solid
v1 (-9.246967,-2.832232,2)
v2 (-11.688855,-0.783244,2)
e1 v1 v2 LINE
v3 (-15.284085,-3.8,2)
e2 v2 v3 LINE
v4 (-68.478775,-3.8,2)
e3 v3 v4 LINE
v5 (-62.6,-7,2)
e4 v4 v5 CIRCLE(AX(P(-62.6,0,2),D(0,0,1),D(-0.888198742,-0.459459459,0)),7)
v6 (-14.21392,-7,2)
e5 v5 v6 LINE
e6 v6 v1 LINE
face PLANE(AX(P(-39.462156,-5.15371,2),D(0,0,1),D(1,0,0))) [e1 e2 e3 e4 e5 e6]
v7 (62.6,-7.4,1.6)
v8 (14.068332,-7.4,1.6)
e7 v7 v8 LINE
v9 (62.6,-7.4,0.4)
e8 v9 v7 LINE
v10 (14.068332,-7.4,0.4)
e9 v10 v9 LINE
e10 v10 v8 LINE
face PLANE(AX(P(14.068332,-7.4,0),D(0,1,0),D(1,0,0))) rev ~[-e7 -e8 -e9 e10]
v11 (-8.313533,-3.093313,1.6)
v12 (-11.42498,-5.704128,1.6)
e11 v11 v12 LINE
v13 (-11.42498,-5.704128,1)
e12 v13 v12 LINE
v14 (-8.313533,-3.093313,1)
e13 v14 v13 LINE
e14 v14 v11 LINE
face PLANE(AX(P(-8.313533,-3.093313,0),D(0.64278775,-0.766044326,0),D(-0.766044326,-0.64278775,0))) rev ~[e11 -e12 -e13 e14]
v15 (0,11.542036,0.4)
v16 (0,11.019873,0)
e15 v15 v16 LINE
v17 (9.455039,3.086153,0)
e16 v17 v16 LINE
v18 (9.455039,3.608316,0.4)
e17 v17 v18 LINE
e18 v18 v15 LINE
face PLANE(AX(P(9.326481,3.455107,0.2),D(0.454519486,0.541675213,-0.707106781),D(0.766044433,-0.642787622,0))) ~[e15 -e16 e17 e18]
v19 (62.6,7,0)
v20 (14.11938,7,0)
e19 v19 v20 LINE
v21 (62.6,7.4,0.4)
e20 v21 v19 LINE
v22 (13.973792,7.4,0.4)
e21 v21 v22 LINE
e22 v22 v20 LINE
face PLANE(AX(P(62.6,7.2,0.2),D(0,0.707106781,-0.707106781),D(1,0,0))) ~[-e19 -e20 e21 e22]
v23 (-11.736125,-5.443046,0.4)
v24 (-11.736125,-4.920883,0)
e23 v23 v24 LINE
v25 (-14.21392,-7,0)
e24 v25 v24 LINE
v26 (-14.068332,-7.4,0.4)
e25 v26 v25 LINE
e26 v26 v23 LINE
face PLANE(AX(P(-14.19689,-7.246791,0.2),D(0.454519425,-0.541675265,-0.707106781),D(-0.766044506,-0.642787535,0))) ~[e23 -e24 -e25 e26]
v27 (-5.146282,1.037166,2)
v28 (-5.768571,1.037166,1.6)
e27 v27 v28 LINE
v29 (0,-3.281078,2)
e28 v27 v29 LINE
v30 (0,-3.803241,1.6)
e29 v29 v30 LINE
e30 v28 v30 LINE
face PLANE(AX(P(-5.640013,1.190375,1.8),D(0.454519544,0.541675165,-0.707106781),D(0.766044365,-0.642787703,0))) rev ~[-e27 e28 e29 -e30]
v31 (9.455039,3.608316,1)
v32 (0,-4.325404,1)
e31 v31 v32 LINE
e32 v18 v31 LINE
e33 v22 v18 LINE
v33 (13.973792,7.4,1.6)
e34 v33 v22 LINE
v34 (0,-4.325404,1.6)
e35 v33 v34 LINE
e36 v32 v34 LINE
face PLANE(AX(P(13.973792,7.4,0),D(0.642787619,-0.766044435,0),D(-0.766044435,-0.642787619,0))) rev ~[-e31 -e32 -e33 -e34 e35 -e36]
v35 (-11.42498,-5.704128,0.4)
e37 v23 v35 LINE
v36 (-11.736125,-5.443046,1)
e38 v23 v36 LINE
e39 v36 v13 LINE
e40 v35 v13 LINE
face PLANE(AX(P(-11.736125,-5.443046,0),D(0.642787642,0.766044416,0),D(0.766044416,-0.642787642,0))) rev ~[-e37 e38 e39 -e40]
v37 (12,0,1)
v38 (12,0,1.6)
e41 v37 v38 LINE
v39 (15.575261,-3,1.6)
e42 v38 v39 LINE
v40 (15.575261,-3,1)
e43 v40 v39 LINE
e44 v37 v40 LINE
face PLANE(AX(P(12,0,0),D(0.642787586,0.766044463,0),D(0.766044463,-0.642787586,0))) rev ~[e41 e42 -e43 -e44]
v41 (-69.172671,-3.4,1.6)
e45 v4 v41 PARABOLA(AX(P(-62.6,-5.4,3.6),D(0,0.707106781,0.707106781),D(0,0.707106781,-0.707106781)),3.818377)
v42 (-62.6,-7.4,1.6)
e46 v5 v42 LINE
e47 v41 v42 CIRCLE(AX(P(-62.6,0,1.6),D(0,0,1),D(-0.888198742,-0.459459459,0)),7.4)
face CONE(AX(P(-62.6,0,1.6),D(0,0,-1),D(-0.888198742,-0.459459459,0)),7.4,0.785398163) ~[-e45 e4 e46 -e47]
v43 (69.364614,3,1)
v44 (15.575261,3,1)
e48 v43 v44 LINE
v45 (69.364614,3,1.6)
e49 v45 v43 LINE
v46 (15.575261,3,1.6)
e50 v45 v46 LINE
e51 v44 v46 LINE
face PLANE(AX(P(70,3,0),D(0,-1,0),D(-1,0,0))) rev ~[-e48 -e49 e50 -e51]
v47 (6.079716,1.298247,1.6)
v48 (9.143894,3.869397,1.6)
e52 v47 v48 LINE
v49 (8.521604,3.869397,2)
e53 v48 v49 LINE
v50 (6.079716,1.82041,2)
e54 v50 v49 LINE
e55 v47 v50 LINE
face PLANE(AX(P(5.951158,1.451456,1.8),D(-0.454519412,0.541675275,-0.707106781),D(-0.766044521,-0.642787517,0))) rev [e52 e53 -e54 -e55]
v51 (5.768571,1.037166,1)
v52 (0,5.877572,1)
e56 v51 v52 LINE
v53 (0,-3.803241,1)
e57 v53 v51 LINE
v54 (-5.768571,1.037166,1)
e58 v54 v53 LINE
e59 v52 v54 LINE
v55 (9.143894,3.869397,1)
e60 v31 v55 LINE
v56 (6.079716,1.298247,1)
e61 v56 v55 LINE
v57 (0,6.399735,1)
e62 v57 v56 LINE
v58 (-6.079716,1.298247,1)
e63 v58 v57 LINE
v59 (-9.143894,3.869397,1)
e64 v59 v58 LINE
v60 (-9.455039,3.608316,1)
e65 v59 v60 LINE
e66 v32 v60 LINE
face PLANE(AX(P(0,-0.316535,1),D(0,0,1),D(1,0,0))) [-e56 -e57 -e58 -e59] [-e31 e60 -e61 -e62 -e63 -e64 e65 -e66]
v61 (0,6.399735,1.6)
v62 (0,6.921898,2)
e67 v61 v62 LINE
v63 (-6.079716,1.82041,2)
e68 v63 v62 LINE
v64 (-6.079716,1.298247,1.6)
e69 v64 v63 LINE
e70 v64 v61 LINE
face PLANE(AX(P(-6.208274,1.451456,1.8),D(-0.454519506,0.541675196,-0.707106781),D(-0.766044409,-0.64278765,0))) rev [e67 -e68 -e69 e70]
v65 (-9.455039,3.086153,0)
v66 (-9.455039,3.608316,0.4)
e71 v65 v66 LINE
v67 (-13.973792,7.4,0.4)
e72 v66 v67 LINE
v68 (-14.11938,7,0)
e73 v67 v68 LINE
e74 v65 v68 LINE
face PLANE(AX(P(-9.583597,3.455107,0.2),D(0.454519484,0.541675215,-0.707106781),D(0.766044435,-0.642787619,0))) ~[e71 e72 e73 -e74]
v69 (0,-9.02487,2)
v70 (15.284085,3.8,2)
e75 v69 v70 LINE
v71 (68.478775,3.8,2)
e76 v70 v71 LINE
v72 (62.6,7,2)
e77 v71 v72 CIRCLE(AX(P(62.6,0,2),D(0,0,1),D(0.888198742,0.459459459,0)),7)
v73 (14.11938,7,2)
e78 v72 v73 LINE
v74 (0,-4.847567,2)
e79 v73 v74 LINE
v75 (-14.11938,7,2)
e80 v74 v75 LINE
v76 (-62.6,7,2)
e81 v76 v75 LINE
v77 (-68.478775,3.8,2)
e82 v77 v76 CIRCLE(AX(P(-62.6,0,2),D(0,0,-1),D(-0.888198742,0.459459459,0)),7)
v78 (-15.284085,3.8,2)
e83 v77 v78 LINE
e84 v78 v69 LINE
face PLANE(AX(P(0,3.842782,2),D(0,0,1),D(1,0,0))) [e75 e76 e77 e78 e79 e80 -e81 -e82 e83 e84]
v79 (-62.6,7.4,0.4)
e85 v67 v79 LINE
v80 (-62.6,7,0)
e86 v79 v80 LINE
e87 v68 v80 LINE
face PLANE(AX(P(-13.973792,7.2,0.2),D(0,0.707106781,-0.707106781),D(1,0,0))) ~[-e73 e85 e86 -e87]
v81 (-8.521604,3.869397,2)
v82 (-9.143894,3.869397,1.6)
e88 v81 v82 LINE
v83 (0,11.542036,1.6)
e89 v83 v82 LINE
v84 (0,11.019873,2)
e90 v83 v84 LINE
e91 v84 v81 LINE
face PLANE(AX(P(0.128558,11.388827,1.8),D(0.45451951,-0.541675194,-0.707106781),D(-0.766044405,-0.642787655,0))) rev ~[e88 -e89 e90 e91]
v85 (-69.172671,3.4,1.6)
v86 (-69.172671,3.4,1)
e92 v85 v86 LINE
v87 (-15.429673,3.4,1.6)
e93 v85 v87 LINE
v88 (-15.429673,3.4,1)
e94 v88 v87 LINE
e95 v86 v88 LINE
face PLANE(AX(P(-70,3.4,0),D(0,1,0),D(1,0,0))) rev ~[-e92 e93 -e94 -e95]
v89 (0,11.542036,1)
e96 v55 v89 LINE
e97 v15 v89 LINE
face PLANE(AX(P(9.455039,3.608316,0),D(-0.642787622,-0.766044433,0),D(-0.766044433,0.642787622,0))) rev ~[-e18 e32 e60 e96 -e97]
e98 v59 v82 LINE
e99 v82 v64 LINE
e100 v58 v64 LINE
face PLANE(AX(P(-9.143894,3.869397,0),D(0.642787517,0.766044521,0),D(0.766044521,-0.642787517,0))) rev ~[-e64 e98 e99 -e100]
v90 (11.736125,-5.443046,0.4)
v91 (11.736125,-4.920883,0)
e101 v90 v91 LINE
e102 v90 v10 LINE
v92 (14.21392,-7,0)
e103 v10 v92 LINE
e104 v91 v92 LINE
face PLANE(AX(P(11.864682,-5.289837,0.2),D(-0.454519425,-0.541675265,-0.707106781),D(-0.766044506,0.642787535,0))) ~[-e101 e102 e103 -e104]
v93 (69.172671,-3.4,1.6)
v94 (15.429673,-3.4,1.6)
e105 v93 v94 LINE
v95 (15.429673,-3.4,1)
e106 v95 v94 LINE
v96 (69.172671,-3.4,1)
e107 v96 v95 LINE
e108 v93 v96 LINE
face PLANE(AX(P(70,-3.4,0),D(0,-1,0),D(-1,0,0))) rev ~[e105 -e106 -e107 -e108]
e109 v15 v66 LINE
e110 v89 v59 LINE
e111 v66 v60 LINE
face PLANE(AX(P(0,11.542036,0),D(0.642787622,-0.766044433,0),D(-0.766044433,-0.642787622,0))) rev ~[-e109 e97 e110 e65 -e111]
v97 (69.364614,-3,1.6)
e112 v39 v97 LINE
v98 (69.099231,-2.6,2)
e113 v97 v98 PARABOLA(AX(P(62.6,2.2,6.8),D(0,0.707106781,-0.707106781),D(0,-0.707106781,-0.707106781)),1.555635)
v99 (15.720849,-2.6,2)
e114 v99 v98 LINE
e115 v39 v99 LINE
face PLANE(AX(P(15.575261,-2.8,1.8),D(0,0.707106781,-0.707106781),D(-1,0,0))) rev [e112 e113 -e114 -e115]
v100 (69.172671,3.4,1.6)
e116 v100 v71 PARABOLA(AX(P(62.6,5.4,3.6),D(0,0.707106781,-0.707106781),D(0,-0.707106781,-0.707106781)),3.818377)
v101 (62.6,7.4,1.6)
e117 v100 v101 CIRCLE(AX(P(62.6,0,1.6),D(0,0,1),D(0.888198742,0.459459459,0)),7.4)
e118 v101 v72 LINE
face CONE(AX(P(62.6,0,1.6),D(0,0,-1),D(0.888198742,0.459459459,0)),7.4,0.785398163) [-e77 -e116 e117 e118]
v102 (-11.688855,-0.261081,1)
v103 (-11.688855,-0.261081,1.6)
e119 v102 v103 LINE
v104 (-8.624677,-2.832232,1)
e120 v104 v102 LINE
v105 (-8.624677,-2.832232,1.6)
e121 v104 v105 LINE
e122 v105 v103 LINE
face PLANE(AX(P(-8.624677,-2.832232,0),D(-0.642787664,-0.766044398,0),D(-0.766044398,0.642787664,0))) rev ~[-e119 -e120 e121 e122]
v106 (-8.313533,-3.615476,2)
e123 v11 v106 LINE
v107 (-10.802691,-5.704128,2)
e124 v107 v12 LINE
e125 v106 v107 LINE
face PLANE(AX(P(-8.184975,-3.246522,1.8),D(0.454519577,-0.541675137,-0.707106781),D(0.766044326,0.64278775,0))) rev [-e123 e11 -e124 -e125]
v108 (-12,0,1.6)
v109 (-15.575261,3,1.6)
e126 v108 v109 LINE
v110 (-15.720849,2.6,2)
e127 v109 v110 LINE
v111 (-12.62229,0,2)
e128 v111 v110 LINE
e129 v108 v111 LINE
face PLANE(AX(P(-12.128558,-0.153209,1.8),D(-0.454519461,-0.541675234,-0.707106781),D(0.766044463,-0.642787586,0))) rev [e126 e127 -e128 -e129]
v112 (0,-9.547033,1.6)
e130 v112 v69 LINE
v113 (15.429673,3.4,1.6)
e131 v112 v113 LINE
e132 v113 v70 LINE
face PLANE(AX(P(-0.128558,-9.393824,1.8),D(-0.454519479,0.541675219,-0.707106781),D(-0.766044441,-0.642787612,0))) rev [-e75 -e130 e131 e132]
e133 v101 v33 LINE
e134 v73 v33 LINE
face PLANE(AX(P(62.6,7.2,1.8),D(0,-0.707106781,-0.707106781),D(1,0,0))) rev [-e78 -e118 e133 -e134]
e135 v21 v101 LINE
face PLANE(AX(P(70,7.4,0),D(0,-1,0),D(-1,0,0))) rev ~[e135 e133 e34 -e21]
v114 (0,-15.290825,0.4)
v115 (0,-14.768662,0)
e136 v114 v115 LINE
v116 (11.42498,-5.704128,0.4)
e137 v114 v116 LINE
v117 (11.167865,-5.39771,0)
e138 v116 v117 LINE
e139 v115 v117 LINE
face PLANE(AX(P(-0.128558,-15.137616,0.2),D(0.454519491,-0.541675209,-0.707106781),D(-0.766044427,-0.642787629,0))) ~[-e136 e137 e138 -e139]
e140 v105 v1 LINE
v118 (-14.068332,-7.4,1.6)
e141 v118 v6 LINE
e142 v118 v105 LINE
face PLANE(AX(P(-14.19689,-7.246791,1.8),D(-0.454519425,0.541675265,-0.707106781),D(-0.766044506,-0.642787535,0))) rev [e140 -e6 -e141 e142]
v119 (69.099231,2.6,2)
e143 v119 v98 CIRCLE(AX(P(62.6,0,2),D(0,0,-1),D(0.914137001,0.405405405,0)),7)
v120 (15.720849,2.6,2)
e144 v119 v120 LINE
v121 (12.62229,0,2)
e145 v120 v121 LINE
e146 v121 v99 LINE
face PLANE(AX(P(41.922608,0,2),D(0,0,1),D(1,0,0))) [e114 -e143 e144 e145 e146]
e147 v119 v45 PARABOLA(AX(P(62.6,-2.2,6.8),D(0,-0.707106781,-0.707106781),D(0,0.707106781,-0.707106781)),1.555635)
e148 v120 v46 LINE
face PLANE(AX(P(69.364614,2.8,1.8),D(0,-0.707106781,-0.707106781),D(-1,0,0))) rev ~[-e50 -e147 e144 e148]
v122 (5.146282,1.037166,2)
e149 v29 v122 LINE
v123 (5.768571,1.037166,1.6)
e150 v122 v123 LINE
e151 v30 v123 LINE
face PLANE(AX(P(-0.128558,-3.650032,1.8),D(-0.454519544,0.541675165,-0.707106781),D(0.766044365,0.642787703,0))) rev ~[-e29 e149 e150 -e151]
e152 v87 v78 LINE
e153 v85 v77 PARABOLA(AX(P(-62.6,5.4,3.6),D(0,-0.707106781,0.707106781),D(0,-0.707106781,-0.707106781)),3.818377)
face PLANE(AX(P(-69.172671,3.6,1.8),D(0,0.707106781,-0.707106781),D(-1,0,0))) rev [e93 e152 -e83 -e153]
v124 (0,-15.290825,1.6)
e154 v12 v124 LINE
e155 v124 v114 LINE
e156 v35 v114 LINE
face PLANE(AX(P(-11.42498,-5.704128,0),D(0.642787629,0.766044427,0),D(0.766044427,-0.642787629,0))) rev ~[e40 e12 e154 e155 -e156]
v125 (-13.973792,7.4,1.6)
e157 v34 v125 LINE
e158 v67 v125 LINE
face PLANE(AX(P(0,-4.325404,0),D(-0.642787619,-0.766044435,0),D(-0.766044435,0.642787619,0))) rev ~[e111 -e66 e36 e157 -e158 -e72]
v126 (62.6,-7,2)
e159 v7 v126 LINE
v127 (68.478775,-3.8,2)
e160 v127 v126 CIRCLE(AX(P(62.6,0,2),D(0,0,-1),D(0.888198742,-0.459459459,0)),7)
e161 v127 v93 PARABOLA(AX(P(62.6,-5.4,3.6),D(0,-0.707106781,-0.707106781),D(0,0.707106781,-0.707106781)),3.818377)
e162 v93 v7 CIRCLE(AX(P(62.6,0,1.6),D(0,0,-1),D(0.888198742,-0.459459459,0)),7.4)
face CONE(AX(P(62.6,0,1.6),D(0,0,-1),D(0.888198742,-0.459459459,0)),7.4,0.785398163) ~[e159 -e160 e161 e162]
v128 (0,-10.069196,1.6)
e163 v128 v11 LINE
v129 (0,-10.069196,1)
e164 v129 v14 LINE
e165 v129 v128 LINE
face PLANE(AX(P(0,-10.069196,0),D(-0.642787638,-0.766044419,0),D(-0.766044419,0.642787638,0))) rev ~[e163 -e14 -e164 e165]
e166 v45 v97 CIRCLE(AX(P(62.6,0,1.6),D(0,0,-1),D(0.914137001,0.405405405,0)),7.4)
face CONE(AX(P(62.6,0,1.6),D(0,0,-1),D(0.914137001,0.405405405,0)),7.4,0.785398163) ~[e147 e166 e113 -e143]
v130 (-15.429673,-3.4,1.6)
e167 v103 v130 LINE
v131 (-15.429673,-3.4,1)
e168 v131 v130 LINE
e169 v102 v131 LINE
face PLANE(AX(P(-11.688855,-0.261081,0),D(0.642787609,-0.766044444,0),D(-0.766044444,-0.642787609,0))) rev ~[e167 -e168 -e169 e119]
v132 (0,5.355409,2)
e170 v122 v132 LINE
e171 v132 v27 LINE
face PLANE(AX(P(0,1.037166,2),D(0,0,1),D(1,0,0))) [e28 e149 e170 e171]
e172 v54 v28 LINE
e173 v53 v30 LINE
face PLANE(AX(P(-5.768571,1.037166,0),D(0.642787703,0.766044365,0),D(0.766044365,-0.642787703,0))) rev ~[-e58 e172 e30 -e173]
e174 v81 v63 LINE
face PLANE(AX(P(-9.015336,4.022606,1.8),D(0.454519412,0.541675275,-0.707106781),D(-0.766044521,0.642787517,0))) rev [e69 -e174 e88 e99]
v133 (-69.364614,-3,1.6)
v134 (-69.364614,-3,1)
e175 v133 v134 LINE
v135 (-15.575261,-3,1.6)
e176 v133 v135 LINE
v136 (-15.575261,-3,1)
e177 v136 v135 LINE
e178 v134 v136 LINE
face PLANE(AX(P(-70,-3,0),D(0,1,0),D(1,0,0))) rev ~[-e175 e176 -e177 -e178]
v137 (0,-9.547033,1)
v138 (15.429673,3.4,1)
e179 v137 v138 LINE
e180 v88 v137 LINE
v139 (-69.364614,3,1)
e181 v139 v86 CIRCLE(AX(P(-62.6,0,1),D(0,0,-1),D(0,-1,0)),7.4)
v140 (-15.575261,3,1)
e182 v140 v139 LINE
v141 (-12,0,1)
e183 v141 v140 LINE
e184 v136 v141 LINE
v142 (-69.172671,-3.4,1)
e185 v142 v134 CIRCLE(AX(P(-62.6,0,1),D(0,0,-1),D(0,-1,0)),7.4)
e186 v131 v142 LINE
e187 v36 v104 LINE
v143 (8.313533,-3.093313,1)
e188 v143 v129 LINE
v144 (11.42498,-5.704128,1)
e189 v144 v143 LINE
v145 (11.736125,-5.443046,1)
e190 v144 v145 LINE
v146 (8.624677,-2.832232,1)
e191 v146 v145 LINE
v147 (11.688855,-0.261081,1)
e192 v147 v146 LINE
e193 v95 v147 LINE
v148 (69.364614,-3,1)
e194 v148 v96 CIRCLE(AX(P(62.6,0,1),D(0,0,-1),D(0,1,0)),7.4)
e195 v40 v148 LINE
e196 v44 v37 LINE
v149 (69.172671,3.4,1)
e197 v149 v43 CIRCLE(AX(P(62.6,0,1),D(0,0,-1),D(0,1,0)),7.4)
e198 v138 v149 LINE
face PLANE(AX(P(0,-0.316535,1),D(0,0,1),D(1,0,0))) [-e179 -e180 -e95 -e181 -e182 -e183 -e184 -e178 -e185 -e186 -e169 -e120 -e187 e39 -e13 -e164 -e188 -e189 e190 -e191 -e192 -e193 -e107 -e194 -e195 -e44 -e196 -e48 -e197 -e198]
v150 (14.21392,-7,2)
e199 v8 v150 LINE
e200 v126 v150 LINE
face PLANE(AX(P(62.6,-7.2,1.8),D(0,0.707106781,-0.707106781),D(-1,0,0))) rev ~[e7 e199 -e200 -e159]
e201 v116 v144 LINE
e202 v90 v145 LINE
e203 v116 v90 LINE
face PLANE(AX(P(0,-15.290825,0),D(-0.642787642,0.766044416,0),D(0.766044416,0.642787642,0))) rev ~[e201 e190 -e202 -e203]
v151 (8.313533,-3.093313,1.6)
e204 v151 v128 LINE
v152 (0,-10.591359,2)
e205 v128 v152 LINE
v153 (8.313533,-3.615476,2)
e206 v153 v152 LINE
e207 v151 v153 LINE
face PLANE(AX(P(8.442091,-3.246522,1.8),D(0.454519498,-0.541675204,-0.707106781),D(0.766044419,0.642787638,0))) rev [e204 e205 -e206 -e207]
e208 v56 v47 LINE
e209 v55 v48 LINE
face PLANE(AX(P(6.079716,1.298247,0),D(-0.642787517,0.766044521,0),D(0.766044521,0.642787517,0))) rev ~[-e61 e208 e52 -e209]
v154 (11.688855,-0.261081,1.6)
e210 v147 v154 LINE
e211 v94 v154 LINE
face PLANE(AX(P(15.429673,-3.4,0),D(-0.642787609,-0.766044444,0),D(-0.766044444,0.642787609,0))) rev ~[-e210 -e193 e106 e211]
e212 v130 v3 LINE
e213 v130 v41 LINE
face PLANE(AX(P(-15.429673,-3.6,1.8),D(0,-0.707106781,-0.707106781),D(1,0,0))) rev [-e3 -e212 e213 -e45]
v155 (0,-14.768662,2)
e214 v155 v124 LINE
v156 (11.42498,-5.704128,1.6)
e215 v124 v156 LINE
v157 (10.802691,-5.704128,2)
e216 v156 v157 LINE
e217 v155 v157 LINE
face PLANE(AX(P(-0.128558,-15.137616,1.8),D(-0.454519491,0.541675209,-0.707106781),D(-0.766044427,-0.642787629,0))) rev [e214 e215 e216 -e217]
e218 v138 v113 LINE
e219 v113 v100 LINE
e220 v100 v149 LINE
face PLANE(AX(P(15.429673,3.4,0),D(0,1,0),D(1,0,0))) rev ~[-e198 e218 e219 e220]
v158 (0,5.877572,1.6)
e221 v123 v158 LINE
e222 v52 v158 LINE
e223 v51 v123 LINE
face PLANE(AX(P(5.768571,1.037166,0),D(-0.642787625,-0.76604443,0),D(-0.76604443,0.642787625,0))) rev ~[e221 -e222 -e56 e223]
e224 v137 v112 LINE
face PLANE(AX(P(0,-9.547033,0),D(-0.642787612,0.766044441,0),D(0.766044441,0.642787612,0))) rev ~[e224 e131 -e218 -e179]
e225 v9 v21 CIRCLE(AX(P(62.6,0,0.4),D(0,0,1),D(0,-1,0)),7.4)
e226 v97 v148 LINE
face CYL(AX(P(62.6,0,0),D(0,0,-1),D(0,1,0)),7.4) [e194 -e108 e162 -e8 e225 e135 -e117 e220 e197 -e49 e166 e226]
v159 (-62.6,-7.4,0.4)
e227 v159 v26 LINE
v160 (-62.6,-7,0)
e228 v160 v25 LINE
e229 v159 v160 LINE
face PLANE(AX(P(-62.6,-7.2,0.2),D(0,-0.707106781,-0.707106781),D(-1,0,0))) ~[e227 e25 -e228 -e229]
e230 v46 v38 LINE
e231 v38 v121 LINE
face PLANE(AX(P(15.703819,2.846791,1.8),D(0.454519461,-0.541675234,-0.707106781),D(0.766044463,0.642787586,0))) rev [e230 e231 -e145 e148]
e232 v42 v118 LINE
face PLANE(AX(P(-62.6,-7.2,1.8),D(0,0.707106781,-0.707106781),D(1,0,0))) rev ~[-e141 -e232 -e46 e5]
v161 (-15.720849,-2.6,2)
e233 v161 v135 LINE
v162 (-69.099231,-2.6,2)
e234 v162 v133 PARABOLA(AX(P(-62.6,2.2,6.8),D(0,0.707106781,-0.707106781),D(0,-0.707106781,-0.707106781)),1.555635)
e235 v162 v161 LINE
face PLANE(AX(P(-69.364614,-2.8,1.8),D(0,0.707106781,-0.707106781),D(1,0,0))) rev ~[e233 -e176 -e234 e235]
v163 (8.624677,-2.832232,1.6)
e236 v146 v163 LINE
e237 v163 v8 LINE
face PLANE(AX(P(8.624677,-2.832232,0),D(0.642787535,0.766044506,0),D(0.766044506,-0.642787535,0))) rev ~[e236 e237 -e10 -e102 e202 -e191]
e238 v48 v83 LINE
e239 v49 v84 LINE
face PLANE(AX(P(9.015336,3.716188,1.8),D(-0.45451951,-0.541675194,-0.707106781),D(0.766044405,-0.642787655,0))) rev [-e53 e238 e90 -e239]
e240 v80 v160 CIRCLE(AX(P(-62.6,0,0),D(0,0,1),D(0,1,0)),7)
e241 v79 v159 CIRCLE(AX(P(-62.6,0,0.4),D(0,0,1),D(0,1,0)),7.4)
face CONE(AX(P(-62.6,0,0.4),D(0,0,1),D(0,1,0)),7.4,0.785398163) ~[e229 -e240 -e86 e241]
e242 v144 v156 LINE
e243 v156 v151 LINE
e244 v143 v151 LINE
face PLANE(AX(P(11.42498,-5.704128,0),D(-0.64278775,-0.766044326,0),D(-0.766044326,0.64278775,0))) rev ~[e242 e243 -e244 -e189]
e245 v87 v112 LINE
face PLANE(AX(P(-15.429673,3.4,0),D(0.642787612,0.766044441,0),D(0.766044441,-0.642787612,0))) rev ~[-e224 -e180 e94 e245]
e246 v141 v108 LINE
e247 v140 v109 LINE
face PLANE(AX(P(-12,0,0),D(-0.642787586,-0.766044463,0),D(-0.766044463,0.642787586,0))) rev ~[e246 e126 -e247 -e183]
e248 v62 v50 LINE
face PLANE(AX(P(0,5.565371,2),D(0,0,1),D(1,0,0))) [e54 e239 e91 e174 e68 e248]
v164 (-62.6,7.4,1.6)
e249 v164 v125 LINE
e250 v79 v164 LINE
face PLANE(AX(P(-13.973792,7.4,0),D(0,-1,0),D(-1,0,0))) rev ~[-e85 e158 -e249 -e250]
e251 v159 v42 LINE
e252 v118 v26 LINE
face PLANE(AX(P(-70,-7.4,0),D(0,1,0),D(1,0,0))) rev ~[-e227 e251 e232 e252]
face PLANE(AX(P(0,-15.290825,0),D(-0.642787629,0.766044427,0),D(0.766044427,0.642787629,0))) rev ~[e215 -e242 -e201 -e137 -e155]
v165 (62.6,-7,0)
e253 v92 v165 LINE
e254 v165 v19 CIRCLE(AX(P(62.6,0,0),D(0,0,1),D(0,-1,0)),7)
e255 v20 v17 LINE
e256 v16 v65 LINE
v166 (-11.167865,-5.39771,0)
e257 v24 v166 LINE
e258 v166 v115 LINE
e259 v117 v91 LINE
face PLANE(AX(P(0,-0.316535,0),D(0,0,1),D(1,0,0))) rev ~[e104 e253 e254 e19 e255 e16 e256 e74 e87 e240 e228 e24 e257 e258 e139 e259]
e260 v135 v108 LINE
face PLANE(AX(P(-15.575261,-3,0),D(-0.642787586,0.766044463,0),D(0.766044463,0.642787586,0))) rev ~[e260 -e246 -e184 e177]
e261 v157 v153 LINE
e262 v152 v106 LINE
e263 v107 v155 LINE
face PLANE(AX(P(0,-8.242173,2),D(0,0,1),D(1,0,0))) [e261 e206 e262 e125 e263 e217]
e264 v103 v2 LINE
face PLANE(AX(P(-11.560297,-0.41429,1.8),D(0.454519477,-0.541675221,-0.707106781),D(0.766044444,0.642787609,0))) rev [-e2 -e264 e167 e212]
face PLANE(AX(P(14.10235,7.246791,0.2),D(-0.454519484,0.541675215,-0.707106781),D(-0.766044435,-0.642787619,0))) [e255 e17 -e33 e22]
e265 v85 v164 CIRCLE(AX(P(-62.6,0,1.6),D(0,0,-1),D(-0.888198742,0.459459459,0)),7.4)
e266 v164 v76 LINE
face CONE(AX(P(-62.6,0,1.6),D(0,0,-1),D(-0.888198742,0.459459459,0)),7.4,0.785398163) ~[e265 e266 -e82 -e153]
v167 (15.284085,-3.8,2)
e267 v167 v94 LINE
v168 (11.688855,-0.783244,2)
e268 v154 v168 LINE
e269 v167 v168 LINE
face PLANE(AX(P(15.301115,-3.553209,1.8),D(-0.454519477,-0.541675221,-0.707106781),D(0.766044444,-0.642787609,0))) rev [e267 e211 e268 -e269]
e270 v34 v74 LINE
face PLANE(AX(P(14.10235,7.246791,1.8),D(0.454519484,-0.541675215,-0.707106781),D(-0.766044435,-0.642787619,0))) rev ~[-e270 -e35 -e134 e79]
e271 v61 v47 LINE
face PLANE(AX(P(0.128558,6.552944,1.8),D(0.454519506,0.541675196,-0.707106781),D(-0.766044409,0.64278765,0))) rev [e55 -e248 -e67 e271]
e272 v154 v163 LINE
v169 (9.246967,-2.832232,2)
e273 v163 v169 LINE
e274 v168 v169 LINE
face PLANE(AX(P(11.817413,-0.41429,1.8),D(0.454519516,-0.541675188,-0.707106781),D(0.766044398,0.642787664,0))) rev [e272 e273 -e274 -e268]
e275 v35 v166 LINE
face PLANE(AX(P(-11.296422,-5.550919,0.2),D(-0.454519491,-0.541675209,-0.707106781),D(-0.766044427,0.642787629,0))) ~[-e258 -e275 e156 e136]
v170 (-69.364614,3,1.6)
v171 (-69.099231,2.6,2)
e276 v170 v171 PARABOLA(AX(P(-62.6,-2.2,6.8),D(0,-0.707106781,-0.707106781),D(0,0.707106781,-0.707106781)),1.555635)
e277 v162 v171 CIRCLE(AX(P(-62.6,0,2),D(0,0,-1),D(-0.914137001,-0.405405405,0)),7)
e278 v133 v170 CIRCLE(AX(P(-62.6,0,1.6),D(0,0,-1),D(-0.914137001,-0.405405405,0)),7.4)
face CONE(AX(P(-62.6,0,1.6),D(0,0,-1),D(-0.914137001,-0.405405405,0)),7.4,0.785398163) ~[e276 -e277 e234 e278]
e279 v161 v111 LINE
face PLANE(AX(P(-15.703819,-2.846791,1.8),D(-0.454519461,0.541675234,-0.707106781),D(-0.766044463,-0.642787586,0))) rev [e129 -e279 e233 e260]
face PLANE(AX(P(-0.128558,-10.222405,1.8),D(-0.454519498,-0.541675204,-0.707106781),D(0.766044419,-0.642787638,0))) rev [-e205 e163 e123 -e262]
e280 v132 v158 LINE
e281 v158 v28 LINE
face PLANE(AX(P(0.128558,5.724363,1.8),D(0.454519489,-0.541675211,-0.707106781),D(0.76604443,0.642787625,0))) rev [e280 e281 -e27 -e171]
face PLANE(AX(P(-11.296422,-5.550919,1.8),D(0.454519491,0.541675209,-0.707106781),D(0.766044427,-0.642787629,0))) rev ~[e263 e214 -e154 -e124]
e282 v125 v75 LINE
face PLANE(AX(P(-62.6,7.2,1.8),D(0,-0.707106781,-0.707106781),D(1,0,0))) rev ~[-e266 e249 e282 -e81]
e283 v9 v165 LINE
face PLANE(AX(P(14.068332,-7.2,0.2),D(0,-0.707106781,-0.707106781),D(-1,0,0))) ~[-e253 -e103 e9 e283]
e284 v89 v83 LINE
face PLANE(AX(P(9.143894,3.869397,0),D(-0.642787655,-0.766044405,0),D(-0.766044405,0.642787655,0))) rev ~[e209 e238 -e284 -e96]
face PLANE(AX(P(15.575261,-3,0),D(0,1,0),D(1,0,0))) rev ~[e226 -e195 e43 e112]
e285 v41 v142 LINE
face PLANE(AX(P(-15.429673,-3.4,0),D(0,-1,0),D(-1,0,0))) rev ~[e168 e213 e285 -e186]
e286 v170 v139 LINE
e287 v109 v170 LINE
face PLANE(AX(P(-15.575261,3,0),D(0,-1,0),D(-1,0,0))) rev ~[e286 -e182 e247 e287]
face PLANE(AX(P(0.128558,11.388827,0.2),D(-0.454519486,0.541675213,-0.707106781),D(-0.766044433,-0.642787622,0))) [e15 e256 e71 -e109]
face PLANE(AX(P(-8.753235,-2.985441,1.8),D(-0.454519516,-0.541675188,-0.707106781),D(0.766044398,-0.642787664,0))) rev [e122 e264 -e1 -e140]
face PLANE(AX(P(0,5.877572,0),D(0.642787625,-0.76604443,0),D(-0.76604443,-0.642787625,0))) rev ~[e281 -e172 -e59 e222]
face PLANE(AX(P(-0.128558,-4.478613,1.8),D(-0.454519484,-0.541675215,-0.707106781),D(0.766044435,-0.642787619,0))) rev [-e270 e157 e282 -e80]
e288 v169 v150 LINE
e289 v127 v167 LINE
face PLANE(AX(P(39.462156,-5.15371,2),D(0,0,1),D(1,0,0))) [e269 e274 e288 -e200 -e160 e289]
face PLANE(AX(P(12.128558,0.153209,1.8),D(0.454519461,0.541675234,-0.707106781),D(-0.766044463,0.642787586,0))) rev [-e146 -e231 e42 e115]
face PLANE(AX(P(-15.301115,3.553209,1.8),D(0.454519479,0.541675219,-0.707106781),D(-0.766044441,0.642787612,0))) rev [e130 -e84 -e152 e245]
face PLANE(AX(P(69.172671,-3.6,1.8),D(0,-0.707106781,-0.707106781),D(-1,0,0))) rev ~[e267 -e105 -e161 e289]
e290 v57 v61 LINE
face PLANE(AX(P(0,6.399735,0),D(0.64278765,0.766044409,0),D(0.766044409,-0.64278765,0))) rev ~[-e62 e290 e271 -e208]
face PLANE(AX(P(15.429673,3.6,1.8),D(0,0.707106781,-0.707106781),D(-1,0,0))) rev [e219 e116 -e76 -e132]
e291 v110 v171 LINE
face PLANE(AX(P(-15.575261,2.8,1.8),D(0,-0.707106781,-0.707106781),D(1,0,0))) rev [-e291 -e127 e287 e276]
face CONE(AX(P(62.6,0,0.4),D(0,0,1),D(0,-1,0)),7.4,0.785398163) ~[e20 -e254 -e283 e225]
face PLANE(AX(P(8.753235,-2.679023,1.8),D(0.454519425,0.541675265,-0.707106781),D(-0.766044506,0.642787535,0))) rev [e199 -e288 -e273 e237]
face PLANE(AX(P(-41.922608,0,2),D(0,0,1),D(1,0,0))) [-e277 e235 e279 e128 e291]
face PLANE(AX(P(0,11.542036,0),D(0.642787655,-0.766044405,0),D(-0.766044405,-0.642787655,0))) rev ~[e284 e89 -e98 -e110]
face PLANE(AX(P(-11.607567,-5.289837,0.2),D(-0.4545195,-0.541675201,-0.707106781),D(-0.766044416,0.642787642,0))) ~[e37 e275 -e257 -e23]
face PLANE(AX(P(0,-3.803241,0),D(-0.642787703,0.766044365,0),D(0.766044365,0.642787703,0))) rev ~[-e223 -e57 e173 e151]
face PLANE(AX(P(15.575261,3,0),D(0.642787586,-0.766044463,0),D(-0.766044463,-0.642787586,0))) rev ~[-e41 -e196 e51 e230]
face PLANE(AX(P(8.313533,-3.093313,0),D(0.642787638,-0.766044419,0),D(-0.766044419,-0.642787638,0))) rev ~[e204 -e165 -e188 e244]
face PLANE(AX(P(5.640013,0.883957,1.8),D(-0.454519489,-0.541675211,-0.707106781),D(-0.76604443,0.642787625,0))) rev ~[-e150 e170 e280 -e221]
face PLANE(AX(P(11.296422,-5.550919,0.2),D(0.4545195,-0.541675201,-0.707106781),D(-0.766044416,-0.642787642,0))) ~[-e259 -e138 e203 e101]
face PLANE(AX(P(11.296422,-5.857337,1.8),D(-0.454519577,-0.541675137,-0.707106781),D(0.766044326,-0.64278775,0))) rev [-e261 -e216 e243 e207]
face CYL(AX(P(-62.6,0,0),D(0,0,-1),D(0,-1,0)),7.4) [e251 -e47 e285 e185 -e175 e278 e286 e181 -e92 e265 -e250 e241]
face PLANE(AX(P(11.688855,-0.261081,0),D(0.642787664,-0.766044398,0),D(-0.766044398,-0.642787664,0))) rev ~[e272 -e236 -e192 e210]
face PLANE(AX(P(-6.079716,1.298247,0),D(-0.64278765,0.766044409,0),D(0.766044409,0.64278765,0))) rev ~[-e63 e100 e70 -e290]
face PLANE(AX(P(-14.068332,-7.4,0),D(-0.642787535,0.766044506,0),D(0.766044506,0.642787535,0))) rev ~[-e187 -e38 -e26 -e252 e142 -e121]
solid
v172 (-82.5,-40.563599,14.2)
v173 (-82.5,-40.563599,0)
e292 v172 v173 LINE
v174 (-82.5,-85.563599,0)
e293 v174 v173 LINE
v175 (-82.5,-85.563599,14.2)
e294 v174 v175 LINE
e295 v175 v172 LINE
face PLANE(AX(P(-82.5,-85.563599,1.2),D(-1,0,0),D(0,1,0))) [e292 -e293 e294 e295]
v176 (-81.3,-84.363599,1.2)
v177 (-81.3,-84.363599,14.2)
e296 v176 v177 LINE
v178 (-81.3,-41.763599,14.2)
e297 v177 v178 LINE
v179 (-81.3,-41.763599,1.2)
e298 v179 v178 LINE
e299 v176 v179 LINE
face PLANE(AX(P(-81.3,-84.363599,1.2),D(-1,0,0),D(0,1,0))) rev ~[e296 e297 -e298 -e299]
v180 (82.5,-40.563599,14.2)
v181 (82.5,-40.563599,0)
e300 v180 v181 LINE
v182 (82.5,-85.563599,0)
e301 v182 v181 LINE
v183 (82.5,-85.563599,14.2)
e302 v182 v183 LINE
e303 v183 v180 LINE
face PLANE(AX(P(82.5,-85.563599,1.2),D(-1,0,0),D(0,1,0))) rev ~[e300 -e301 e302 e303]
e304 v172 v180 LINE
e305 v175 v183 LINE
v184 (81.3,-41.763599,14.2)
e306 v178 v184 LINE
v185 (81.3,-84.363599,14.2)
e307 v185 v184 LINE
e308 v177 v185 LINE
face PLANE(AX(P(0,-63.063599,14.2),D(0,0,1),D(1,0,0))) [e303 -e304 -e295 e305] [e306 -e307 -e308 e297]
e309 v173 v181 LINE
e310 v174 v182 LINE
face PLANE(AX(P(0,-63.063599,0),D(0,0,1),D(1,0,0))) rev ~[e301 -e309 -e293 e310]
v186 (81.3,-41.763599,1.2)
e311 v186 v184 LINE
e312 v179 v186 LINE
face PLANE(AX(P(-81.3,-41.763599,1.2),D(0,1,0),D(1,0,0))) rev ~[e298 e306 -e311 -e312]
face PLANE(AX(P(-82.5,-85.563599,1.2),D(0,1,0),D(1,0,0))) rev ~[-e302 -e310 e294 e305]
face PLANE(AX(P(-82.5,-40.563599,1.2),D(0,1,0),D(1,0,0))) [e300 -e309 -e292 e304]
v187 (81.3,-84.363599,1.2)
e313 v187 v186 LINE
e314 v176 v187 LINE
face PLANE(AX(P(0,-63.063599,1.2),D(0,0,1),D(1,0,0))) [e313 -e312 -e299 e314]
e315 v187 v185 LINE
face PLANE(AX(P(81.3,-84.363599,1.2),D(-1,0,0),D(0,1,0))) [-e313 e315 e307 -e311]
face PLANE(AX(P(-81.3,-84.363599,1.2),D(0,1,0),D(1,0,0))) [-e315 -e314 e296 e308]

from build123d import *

# Parameters (mm, degrees)
F1_DEPTH  = 2
F3_DEPTH  = 2
F5_DEPTH  = 2
F7_DEPTH  = 2
F9_DEPTH  = 1
F12_DEPTH = 2
F13_SIZE  = 0.4
F14_W     = 165
F14_H     = 45
F15_DEPTH = 1.2
F16_W     = 165
F16_H     = 45
F16_W_2   = 162.6
F16_H_2   = 42.6
F17_DEPTH = 13


with BuildPart() as f1:
    # F0 (on Top) → F1 (new body)
    with BuildSketch(Plane.XY):
        Polygon((15.575261, 3), (12, 0), (15.575261, -3), (70, -3), (70, 0), (70, 3), align=None)
        Polygon((-15.575261, -3), (-12, 0), (-15.575261, 3), (-70, 3), (-70, 0), (-70, -3), align=None)
    extrude(amount=F1_DEPTH)


with BuildPart() as f3:
    # F2 (on Top) → F3 (new body)
    with BuildSketch(Plane.XY):
        Polygon((-15.429673, 3.4), (0, -9.547033), (15.429673, 3.4), (70, 3.4), (70, 7.4), (13.973792, 7.4), (0, -4.325404), (-13.973792, 7.4), (-70, 7.4), (-70, 3.4), align=None)
    extrude(amount=F3_DEPTH)


with BuildPart() as f5:
    # F4 (on Top) → F5 (new body)
    with BuildSketch(Plane.XY):
        Polygon((6.079716, 1.298247), (9.143894, 3.869397), (0, 11.542036), (-9.143894, 3.869397), (-6.079716, 1.298247), (0, 6.399735), align=None)
        Polygon((15.429673, -3.4), (11.688855, -0.261081), (8.624677, -2.832232), (14.068332, -7.4), (70, -7.4), (70, -3.4), align=None)
        Polygon((-70, -7.4), (-14.068332, -7.4), (-8.624677, -2.832232), (-11.688855, -0.261081), (-15.429673, -3.4), (-70, -3.4), align=None)
    extrude(amount=F5_DEPTH)


with BuildPart() as f7:
    # F6 (on Top) → F7 (new body)
    with BuildSketch(Plane.XY):
        Polygon((-11.42498, -5.704128), (0, -15.290825), (11.42498, -5.704128), (8.313533, -3.093313), (0, -10.069196), (-8.313533, -3.093313), align=None)
        Polygon((-5.768571, 1.037166), (0, -3.803241), (5.768571, 1.037166), (0, 5.877572), align=None)
    extrude(amount=F7_DEPTH)


with BuildPart() as f9:
    # F8 (on Top) → F9 (new body)
    with BuildSketch(Plane.XY):
        Polygon((9.455039, 3.608316), (0, 11.542036), (-9.455039, 3.608316), (-13.973792, 7.4), (-70, 7.4), (-70, -7.4), (-14.068332, -7.4), (-11.736125, -5.443046), (0, -15.290825), (11.736125, -5.443046), (14.068332, -7.4), (70, -7.4), (70, 7.4), (13.973792, 7.4), align=None)
    extrude(amount=F9_DEPTH)


with BuildPart() as f1_1:
    add(f1.part)

    # F10: union F3, F5, F7, F9
    add(f3.part)
    add(f5.part)
    add(f7.part)
    add(f9.part)

    # F11 (on Top) → F12 (cut, through all)
    with BuildSketch(Plane.XY):
        with BuildLine():
            ThreePointArc((62.6, 7.4), (70, 0), (62.6, -7.4))
            Line((62.6, -7.4), (112.117278, -7.4))
            Line((112.117278, -7.4), (112.117278, 7.4))
            Line((112.117278, 7.4), (62.6, 7.4))
        make_face()
        with BuildLine():
            Line((-112.117278, -7.4), (-62.6, -7.4))
            ThreePointArc((-62.6, -7.4), (-70, 0), (-62.6, 7.4))
            Line((-62.6, 7.4), (-112.117278, 7.4))
            Line((-112.117278, 7.4), (-112.117278, -7.4))
        make_face()
    extrude(amount=F12_DEPTH, mode=Mode.SUBTRACT)

    # F13
    f13_edges = [f1_1.edges().sort_by_distance(p)[0] for p in [
        (-42.301172, 3.4, 2),
        (-66.447077, 6.321392, 2),
        (-38.286896, 7.4, 2),
        (-6.986896, 1.537298, 2),
        (6.986896, 1.537298, 2),
        (38.286896, 7.4, 2),
        (66.447077, 6.321392, 2),
        (42.301172, 3.4, 2),
        (7.714836, -3.073516, 2),
        (-7.714836, -3.073516, 2),
        (-42.469937, -3, 2),
        (-13.78763, -1.5, 2),
        (-13.78763, 1.5, 2),
        (-42.469937, 3, 2),
        (-70, 0, 2),
        (-13.559264, -1.830541, 2),
        (-10.156766, -1.546657, 2),
        (-11.346504, -5.116116, 2),
        (-38.334166, -7.4, 2),
        (-66.447077, -6.321392, 2),
        (-42.301172, -3.4, 2),
        (3.039858, 3.848991, 2),
        (7.611805, 2.583822, 2),
        (4.571947, 7.705717, 2),
        (-4.571947, 7.705717, 2),
        (-7.611805, 2.583822, 2),
        (-3.039858, 3.848991, 2),
        (-2.884286, -1.383037, 2),
        (2.884286, -1.383037, 2),
        (2.884286, 3.457369, 2),
        (-2.884286, 3.457369, 2),
        (-5.71249, -10.497476, 2),
        (5.71249, -10.497476, 2),
        (9.869257, -4.398721, 2),
        (4.156766, -6.581254, 2),
        (-4.156766, -6.581254, 2),
        (-9.869257, -4.398721, 2),
        (42.301172, -3.4, 2),
        (66.447077, -6.321392, 2),
        (38.334166, -7.4, 2),
        (11.346504, -5.116116, 2),
        (10.156766, -1.546657, 2),
        (13.559264, -1.830541, 2),
        (42.469937, 3, 2),
        (13.78763, 1.5, 2),
        (13.78763, -1.5, 2),
        (42.469937, -3, 2),
        (70, 0, 2),
        (38.334166, -7.4, 0),
        (70, 0, 0),
        (38.286896, 7.4, 0),
        (11.714415, 5.504158, 0),
        (4.727519, 7.575176, 0),
        (-4.727519, 7.575176, 0),
        (-11.714415, 5.504158, 0),
        (-38.286896, 7.4, 0),
        (-70, 0, 0),
        (-38.334166, -7.4, 0),
        (-12.902228, -6.421523, 0),
        (-5.868063, -10.366936, 0),
        (5.868063, -10.366936, 0),
        (12.902228, -6.421523, 0),
    ]]
    chamfer(f13_edges, length=F13_SIZE)


with BuildPart() as f15:
    # F14 (on Top) → F15 (new body)
    with BuildSketch(Plane.XY):
        with Locations((0, -63.063599)):
            Rectangle(F14_W, F14_H)
    extrude(amount=F15_DEPTH)

    # F16 (on face) → F17 (join)
    with BuildSketch(Plane.XY.offset(1.2)):
        with Locations((0, -63.063599)):
            Rectangle(F16_W, F16_H)
        with Locations((0, -63.063599)):
            Rectangle(F16_W_2, F16_H_2, mode=Mode.SUBTRACT)
    extrude(amount=F17_DEPTH)


solid = Compound([f1_1.part, f15.part])
